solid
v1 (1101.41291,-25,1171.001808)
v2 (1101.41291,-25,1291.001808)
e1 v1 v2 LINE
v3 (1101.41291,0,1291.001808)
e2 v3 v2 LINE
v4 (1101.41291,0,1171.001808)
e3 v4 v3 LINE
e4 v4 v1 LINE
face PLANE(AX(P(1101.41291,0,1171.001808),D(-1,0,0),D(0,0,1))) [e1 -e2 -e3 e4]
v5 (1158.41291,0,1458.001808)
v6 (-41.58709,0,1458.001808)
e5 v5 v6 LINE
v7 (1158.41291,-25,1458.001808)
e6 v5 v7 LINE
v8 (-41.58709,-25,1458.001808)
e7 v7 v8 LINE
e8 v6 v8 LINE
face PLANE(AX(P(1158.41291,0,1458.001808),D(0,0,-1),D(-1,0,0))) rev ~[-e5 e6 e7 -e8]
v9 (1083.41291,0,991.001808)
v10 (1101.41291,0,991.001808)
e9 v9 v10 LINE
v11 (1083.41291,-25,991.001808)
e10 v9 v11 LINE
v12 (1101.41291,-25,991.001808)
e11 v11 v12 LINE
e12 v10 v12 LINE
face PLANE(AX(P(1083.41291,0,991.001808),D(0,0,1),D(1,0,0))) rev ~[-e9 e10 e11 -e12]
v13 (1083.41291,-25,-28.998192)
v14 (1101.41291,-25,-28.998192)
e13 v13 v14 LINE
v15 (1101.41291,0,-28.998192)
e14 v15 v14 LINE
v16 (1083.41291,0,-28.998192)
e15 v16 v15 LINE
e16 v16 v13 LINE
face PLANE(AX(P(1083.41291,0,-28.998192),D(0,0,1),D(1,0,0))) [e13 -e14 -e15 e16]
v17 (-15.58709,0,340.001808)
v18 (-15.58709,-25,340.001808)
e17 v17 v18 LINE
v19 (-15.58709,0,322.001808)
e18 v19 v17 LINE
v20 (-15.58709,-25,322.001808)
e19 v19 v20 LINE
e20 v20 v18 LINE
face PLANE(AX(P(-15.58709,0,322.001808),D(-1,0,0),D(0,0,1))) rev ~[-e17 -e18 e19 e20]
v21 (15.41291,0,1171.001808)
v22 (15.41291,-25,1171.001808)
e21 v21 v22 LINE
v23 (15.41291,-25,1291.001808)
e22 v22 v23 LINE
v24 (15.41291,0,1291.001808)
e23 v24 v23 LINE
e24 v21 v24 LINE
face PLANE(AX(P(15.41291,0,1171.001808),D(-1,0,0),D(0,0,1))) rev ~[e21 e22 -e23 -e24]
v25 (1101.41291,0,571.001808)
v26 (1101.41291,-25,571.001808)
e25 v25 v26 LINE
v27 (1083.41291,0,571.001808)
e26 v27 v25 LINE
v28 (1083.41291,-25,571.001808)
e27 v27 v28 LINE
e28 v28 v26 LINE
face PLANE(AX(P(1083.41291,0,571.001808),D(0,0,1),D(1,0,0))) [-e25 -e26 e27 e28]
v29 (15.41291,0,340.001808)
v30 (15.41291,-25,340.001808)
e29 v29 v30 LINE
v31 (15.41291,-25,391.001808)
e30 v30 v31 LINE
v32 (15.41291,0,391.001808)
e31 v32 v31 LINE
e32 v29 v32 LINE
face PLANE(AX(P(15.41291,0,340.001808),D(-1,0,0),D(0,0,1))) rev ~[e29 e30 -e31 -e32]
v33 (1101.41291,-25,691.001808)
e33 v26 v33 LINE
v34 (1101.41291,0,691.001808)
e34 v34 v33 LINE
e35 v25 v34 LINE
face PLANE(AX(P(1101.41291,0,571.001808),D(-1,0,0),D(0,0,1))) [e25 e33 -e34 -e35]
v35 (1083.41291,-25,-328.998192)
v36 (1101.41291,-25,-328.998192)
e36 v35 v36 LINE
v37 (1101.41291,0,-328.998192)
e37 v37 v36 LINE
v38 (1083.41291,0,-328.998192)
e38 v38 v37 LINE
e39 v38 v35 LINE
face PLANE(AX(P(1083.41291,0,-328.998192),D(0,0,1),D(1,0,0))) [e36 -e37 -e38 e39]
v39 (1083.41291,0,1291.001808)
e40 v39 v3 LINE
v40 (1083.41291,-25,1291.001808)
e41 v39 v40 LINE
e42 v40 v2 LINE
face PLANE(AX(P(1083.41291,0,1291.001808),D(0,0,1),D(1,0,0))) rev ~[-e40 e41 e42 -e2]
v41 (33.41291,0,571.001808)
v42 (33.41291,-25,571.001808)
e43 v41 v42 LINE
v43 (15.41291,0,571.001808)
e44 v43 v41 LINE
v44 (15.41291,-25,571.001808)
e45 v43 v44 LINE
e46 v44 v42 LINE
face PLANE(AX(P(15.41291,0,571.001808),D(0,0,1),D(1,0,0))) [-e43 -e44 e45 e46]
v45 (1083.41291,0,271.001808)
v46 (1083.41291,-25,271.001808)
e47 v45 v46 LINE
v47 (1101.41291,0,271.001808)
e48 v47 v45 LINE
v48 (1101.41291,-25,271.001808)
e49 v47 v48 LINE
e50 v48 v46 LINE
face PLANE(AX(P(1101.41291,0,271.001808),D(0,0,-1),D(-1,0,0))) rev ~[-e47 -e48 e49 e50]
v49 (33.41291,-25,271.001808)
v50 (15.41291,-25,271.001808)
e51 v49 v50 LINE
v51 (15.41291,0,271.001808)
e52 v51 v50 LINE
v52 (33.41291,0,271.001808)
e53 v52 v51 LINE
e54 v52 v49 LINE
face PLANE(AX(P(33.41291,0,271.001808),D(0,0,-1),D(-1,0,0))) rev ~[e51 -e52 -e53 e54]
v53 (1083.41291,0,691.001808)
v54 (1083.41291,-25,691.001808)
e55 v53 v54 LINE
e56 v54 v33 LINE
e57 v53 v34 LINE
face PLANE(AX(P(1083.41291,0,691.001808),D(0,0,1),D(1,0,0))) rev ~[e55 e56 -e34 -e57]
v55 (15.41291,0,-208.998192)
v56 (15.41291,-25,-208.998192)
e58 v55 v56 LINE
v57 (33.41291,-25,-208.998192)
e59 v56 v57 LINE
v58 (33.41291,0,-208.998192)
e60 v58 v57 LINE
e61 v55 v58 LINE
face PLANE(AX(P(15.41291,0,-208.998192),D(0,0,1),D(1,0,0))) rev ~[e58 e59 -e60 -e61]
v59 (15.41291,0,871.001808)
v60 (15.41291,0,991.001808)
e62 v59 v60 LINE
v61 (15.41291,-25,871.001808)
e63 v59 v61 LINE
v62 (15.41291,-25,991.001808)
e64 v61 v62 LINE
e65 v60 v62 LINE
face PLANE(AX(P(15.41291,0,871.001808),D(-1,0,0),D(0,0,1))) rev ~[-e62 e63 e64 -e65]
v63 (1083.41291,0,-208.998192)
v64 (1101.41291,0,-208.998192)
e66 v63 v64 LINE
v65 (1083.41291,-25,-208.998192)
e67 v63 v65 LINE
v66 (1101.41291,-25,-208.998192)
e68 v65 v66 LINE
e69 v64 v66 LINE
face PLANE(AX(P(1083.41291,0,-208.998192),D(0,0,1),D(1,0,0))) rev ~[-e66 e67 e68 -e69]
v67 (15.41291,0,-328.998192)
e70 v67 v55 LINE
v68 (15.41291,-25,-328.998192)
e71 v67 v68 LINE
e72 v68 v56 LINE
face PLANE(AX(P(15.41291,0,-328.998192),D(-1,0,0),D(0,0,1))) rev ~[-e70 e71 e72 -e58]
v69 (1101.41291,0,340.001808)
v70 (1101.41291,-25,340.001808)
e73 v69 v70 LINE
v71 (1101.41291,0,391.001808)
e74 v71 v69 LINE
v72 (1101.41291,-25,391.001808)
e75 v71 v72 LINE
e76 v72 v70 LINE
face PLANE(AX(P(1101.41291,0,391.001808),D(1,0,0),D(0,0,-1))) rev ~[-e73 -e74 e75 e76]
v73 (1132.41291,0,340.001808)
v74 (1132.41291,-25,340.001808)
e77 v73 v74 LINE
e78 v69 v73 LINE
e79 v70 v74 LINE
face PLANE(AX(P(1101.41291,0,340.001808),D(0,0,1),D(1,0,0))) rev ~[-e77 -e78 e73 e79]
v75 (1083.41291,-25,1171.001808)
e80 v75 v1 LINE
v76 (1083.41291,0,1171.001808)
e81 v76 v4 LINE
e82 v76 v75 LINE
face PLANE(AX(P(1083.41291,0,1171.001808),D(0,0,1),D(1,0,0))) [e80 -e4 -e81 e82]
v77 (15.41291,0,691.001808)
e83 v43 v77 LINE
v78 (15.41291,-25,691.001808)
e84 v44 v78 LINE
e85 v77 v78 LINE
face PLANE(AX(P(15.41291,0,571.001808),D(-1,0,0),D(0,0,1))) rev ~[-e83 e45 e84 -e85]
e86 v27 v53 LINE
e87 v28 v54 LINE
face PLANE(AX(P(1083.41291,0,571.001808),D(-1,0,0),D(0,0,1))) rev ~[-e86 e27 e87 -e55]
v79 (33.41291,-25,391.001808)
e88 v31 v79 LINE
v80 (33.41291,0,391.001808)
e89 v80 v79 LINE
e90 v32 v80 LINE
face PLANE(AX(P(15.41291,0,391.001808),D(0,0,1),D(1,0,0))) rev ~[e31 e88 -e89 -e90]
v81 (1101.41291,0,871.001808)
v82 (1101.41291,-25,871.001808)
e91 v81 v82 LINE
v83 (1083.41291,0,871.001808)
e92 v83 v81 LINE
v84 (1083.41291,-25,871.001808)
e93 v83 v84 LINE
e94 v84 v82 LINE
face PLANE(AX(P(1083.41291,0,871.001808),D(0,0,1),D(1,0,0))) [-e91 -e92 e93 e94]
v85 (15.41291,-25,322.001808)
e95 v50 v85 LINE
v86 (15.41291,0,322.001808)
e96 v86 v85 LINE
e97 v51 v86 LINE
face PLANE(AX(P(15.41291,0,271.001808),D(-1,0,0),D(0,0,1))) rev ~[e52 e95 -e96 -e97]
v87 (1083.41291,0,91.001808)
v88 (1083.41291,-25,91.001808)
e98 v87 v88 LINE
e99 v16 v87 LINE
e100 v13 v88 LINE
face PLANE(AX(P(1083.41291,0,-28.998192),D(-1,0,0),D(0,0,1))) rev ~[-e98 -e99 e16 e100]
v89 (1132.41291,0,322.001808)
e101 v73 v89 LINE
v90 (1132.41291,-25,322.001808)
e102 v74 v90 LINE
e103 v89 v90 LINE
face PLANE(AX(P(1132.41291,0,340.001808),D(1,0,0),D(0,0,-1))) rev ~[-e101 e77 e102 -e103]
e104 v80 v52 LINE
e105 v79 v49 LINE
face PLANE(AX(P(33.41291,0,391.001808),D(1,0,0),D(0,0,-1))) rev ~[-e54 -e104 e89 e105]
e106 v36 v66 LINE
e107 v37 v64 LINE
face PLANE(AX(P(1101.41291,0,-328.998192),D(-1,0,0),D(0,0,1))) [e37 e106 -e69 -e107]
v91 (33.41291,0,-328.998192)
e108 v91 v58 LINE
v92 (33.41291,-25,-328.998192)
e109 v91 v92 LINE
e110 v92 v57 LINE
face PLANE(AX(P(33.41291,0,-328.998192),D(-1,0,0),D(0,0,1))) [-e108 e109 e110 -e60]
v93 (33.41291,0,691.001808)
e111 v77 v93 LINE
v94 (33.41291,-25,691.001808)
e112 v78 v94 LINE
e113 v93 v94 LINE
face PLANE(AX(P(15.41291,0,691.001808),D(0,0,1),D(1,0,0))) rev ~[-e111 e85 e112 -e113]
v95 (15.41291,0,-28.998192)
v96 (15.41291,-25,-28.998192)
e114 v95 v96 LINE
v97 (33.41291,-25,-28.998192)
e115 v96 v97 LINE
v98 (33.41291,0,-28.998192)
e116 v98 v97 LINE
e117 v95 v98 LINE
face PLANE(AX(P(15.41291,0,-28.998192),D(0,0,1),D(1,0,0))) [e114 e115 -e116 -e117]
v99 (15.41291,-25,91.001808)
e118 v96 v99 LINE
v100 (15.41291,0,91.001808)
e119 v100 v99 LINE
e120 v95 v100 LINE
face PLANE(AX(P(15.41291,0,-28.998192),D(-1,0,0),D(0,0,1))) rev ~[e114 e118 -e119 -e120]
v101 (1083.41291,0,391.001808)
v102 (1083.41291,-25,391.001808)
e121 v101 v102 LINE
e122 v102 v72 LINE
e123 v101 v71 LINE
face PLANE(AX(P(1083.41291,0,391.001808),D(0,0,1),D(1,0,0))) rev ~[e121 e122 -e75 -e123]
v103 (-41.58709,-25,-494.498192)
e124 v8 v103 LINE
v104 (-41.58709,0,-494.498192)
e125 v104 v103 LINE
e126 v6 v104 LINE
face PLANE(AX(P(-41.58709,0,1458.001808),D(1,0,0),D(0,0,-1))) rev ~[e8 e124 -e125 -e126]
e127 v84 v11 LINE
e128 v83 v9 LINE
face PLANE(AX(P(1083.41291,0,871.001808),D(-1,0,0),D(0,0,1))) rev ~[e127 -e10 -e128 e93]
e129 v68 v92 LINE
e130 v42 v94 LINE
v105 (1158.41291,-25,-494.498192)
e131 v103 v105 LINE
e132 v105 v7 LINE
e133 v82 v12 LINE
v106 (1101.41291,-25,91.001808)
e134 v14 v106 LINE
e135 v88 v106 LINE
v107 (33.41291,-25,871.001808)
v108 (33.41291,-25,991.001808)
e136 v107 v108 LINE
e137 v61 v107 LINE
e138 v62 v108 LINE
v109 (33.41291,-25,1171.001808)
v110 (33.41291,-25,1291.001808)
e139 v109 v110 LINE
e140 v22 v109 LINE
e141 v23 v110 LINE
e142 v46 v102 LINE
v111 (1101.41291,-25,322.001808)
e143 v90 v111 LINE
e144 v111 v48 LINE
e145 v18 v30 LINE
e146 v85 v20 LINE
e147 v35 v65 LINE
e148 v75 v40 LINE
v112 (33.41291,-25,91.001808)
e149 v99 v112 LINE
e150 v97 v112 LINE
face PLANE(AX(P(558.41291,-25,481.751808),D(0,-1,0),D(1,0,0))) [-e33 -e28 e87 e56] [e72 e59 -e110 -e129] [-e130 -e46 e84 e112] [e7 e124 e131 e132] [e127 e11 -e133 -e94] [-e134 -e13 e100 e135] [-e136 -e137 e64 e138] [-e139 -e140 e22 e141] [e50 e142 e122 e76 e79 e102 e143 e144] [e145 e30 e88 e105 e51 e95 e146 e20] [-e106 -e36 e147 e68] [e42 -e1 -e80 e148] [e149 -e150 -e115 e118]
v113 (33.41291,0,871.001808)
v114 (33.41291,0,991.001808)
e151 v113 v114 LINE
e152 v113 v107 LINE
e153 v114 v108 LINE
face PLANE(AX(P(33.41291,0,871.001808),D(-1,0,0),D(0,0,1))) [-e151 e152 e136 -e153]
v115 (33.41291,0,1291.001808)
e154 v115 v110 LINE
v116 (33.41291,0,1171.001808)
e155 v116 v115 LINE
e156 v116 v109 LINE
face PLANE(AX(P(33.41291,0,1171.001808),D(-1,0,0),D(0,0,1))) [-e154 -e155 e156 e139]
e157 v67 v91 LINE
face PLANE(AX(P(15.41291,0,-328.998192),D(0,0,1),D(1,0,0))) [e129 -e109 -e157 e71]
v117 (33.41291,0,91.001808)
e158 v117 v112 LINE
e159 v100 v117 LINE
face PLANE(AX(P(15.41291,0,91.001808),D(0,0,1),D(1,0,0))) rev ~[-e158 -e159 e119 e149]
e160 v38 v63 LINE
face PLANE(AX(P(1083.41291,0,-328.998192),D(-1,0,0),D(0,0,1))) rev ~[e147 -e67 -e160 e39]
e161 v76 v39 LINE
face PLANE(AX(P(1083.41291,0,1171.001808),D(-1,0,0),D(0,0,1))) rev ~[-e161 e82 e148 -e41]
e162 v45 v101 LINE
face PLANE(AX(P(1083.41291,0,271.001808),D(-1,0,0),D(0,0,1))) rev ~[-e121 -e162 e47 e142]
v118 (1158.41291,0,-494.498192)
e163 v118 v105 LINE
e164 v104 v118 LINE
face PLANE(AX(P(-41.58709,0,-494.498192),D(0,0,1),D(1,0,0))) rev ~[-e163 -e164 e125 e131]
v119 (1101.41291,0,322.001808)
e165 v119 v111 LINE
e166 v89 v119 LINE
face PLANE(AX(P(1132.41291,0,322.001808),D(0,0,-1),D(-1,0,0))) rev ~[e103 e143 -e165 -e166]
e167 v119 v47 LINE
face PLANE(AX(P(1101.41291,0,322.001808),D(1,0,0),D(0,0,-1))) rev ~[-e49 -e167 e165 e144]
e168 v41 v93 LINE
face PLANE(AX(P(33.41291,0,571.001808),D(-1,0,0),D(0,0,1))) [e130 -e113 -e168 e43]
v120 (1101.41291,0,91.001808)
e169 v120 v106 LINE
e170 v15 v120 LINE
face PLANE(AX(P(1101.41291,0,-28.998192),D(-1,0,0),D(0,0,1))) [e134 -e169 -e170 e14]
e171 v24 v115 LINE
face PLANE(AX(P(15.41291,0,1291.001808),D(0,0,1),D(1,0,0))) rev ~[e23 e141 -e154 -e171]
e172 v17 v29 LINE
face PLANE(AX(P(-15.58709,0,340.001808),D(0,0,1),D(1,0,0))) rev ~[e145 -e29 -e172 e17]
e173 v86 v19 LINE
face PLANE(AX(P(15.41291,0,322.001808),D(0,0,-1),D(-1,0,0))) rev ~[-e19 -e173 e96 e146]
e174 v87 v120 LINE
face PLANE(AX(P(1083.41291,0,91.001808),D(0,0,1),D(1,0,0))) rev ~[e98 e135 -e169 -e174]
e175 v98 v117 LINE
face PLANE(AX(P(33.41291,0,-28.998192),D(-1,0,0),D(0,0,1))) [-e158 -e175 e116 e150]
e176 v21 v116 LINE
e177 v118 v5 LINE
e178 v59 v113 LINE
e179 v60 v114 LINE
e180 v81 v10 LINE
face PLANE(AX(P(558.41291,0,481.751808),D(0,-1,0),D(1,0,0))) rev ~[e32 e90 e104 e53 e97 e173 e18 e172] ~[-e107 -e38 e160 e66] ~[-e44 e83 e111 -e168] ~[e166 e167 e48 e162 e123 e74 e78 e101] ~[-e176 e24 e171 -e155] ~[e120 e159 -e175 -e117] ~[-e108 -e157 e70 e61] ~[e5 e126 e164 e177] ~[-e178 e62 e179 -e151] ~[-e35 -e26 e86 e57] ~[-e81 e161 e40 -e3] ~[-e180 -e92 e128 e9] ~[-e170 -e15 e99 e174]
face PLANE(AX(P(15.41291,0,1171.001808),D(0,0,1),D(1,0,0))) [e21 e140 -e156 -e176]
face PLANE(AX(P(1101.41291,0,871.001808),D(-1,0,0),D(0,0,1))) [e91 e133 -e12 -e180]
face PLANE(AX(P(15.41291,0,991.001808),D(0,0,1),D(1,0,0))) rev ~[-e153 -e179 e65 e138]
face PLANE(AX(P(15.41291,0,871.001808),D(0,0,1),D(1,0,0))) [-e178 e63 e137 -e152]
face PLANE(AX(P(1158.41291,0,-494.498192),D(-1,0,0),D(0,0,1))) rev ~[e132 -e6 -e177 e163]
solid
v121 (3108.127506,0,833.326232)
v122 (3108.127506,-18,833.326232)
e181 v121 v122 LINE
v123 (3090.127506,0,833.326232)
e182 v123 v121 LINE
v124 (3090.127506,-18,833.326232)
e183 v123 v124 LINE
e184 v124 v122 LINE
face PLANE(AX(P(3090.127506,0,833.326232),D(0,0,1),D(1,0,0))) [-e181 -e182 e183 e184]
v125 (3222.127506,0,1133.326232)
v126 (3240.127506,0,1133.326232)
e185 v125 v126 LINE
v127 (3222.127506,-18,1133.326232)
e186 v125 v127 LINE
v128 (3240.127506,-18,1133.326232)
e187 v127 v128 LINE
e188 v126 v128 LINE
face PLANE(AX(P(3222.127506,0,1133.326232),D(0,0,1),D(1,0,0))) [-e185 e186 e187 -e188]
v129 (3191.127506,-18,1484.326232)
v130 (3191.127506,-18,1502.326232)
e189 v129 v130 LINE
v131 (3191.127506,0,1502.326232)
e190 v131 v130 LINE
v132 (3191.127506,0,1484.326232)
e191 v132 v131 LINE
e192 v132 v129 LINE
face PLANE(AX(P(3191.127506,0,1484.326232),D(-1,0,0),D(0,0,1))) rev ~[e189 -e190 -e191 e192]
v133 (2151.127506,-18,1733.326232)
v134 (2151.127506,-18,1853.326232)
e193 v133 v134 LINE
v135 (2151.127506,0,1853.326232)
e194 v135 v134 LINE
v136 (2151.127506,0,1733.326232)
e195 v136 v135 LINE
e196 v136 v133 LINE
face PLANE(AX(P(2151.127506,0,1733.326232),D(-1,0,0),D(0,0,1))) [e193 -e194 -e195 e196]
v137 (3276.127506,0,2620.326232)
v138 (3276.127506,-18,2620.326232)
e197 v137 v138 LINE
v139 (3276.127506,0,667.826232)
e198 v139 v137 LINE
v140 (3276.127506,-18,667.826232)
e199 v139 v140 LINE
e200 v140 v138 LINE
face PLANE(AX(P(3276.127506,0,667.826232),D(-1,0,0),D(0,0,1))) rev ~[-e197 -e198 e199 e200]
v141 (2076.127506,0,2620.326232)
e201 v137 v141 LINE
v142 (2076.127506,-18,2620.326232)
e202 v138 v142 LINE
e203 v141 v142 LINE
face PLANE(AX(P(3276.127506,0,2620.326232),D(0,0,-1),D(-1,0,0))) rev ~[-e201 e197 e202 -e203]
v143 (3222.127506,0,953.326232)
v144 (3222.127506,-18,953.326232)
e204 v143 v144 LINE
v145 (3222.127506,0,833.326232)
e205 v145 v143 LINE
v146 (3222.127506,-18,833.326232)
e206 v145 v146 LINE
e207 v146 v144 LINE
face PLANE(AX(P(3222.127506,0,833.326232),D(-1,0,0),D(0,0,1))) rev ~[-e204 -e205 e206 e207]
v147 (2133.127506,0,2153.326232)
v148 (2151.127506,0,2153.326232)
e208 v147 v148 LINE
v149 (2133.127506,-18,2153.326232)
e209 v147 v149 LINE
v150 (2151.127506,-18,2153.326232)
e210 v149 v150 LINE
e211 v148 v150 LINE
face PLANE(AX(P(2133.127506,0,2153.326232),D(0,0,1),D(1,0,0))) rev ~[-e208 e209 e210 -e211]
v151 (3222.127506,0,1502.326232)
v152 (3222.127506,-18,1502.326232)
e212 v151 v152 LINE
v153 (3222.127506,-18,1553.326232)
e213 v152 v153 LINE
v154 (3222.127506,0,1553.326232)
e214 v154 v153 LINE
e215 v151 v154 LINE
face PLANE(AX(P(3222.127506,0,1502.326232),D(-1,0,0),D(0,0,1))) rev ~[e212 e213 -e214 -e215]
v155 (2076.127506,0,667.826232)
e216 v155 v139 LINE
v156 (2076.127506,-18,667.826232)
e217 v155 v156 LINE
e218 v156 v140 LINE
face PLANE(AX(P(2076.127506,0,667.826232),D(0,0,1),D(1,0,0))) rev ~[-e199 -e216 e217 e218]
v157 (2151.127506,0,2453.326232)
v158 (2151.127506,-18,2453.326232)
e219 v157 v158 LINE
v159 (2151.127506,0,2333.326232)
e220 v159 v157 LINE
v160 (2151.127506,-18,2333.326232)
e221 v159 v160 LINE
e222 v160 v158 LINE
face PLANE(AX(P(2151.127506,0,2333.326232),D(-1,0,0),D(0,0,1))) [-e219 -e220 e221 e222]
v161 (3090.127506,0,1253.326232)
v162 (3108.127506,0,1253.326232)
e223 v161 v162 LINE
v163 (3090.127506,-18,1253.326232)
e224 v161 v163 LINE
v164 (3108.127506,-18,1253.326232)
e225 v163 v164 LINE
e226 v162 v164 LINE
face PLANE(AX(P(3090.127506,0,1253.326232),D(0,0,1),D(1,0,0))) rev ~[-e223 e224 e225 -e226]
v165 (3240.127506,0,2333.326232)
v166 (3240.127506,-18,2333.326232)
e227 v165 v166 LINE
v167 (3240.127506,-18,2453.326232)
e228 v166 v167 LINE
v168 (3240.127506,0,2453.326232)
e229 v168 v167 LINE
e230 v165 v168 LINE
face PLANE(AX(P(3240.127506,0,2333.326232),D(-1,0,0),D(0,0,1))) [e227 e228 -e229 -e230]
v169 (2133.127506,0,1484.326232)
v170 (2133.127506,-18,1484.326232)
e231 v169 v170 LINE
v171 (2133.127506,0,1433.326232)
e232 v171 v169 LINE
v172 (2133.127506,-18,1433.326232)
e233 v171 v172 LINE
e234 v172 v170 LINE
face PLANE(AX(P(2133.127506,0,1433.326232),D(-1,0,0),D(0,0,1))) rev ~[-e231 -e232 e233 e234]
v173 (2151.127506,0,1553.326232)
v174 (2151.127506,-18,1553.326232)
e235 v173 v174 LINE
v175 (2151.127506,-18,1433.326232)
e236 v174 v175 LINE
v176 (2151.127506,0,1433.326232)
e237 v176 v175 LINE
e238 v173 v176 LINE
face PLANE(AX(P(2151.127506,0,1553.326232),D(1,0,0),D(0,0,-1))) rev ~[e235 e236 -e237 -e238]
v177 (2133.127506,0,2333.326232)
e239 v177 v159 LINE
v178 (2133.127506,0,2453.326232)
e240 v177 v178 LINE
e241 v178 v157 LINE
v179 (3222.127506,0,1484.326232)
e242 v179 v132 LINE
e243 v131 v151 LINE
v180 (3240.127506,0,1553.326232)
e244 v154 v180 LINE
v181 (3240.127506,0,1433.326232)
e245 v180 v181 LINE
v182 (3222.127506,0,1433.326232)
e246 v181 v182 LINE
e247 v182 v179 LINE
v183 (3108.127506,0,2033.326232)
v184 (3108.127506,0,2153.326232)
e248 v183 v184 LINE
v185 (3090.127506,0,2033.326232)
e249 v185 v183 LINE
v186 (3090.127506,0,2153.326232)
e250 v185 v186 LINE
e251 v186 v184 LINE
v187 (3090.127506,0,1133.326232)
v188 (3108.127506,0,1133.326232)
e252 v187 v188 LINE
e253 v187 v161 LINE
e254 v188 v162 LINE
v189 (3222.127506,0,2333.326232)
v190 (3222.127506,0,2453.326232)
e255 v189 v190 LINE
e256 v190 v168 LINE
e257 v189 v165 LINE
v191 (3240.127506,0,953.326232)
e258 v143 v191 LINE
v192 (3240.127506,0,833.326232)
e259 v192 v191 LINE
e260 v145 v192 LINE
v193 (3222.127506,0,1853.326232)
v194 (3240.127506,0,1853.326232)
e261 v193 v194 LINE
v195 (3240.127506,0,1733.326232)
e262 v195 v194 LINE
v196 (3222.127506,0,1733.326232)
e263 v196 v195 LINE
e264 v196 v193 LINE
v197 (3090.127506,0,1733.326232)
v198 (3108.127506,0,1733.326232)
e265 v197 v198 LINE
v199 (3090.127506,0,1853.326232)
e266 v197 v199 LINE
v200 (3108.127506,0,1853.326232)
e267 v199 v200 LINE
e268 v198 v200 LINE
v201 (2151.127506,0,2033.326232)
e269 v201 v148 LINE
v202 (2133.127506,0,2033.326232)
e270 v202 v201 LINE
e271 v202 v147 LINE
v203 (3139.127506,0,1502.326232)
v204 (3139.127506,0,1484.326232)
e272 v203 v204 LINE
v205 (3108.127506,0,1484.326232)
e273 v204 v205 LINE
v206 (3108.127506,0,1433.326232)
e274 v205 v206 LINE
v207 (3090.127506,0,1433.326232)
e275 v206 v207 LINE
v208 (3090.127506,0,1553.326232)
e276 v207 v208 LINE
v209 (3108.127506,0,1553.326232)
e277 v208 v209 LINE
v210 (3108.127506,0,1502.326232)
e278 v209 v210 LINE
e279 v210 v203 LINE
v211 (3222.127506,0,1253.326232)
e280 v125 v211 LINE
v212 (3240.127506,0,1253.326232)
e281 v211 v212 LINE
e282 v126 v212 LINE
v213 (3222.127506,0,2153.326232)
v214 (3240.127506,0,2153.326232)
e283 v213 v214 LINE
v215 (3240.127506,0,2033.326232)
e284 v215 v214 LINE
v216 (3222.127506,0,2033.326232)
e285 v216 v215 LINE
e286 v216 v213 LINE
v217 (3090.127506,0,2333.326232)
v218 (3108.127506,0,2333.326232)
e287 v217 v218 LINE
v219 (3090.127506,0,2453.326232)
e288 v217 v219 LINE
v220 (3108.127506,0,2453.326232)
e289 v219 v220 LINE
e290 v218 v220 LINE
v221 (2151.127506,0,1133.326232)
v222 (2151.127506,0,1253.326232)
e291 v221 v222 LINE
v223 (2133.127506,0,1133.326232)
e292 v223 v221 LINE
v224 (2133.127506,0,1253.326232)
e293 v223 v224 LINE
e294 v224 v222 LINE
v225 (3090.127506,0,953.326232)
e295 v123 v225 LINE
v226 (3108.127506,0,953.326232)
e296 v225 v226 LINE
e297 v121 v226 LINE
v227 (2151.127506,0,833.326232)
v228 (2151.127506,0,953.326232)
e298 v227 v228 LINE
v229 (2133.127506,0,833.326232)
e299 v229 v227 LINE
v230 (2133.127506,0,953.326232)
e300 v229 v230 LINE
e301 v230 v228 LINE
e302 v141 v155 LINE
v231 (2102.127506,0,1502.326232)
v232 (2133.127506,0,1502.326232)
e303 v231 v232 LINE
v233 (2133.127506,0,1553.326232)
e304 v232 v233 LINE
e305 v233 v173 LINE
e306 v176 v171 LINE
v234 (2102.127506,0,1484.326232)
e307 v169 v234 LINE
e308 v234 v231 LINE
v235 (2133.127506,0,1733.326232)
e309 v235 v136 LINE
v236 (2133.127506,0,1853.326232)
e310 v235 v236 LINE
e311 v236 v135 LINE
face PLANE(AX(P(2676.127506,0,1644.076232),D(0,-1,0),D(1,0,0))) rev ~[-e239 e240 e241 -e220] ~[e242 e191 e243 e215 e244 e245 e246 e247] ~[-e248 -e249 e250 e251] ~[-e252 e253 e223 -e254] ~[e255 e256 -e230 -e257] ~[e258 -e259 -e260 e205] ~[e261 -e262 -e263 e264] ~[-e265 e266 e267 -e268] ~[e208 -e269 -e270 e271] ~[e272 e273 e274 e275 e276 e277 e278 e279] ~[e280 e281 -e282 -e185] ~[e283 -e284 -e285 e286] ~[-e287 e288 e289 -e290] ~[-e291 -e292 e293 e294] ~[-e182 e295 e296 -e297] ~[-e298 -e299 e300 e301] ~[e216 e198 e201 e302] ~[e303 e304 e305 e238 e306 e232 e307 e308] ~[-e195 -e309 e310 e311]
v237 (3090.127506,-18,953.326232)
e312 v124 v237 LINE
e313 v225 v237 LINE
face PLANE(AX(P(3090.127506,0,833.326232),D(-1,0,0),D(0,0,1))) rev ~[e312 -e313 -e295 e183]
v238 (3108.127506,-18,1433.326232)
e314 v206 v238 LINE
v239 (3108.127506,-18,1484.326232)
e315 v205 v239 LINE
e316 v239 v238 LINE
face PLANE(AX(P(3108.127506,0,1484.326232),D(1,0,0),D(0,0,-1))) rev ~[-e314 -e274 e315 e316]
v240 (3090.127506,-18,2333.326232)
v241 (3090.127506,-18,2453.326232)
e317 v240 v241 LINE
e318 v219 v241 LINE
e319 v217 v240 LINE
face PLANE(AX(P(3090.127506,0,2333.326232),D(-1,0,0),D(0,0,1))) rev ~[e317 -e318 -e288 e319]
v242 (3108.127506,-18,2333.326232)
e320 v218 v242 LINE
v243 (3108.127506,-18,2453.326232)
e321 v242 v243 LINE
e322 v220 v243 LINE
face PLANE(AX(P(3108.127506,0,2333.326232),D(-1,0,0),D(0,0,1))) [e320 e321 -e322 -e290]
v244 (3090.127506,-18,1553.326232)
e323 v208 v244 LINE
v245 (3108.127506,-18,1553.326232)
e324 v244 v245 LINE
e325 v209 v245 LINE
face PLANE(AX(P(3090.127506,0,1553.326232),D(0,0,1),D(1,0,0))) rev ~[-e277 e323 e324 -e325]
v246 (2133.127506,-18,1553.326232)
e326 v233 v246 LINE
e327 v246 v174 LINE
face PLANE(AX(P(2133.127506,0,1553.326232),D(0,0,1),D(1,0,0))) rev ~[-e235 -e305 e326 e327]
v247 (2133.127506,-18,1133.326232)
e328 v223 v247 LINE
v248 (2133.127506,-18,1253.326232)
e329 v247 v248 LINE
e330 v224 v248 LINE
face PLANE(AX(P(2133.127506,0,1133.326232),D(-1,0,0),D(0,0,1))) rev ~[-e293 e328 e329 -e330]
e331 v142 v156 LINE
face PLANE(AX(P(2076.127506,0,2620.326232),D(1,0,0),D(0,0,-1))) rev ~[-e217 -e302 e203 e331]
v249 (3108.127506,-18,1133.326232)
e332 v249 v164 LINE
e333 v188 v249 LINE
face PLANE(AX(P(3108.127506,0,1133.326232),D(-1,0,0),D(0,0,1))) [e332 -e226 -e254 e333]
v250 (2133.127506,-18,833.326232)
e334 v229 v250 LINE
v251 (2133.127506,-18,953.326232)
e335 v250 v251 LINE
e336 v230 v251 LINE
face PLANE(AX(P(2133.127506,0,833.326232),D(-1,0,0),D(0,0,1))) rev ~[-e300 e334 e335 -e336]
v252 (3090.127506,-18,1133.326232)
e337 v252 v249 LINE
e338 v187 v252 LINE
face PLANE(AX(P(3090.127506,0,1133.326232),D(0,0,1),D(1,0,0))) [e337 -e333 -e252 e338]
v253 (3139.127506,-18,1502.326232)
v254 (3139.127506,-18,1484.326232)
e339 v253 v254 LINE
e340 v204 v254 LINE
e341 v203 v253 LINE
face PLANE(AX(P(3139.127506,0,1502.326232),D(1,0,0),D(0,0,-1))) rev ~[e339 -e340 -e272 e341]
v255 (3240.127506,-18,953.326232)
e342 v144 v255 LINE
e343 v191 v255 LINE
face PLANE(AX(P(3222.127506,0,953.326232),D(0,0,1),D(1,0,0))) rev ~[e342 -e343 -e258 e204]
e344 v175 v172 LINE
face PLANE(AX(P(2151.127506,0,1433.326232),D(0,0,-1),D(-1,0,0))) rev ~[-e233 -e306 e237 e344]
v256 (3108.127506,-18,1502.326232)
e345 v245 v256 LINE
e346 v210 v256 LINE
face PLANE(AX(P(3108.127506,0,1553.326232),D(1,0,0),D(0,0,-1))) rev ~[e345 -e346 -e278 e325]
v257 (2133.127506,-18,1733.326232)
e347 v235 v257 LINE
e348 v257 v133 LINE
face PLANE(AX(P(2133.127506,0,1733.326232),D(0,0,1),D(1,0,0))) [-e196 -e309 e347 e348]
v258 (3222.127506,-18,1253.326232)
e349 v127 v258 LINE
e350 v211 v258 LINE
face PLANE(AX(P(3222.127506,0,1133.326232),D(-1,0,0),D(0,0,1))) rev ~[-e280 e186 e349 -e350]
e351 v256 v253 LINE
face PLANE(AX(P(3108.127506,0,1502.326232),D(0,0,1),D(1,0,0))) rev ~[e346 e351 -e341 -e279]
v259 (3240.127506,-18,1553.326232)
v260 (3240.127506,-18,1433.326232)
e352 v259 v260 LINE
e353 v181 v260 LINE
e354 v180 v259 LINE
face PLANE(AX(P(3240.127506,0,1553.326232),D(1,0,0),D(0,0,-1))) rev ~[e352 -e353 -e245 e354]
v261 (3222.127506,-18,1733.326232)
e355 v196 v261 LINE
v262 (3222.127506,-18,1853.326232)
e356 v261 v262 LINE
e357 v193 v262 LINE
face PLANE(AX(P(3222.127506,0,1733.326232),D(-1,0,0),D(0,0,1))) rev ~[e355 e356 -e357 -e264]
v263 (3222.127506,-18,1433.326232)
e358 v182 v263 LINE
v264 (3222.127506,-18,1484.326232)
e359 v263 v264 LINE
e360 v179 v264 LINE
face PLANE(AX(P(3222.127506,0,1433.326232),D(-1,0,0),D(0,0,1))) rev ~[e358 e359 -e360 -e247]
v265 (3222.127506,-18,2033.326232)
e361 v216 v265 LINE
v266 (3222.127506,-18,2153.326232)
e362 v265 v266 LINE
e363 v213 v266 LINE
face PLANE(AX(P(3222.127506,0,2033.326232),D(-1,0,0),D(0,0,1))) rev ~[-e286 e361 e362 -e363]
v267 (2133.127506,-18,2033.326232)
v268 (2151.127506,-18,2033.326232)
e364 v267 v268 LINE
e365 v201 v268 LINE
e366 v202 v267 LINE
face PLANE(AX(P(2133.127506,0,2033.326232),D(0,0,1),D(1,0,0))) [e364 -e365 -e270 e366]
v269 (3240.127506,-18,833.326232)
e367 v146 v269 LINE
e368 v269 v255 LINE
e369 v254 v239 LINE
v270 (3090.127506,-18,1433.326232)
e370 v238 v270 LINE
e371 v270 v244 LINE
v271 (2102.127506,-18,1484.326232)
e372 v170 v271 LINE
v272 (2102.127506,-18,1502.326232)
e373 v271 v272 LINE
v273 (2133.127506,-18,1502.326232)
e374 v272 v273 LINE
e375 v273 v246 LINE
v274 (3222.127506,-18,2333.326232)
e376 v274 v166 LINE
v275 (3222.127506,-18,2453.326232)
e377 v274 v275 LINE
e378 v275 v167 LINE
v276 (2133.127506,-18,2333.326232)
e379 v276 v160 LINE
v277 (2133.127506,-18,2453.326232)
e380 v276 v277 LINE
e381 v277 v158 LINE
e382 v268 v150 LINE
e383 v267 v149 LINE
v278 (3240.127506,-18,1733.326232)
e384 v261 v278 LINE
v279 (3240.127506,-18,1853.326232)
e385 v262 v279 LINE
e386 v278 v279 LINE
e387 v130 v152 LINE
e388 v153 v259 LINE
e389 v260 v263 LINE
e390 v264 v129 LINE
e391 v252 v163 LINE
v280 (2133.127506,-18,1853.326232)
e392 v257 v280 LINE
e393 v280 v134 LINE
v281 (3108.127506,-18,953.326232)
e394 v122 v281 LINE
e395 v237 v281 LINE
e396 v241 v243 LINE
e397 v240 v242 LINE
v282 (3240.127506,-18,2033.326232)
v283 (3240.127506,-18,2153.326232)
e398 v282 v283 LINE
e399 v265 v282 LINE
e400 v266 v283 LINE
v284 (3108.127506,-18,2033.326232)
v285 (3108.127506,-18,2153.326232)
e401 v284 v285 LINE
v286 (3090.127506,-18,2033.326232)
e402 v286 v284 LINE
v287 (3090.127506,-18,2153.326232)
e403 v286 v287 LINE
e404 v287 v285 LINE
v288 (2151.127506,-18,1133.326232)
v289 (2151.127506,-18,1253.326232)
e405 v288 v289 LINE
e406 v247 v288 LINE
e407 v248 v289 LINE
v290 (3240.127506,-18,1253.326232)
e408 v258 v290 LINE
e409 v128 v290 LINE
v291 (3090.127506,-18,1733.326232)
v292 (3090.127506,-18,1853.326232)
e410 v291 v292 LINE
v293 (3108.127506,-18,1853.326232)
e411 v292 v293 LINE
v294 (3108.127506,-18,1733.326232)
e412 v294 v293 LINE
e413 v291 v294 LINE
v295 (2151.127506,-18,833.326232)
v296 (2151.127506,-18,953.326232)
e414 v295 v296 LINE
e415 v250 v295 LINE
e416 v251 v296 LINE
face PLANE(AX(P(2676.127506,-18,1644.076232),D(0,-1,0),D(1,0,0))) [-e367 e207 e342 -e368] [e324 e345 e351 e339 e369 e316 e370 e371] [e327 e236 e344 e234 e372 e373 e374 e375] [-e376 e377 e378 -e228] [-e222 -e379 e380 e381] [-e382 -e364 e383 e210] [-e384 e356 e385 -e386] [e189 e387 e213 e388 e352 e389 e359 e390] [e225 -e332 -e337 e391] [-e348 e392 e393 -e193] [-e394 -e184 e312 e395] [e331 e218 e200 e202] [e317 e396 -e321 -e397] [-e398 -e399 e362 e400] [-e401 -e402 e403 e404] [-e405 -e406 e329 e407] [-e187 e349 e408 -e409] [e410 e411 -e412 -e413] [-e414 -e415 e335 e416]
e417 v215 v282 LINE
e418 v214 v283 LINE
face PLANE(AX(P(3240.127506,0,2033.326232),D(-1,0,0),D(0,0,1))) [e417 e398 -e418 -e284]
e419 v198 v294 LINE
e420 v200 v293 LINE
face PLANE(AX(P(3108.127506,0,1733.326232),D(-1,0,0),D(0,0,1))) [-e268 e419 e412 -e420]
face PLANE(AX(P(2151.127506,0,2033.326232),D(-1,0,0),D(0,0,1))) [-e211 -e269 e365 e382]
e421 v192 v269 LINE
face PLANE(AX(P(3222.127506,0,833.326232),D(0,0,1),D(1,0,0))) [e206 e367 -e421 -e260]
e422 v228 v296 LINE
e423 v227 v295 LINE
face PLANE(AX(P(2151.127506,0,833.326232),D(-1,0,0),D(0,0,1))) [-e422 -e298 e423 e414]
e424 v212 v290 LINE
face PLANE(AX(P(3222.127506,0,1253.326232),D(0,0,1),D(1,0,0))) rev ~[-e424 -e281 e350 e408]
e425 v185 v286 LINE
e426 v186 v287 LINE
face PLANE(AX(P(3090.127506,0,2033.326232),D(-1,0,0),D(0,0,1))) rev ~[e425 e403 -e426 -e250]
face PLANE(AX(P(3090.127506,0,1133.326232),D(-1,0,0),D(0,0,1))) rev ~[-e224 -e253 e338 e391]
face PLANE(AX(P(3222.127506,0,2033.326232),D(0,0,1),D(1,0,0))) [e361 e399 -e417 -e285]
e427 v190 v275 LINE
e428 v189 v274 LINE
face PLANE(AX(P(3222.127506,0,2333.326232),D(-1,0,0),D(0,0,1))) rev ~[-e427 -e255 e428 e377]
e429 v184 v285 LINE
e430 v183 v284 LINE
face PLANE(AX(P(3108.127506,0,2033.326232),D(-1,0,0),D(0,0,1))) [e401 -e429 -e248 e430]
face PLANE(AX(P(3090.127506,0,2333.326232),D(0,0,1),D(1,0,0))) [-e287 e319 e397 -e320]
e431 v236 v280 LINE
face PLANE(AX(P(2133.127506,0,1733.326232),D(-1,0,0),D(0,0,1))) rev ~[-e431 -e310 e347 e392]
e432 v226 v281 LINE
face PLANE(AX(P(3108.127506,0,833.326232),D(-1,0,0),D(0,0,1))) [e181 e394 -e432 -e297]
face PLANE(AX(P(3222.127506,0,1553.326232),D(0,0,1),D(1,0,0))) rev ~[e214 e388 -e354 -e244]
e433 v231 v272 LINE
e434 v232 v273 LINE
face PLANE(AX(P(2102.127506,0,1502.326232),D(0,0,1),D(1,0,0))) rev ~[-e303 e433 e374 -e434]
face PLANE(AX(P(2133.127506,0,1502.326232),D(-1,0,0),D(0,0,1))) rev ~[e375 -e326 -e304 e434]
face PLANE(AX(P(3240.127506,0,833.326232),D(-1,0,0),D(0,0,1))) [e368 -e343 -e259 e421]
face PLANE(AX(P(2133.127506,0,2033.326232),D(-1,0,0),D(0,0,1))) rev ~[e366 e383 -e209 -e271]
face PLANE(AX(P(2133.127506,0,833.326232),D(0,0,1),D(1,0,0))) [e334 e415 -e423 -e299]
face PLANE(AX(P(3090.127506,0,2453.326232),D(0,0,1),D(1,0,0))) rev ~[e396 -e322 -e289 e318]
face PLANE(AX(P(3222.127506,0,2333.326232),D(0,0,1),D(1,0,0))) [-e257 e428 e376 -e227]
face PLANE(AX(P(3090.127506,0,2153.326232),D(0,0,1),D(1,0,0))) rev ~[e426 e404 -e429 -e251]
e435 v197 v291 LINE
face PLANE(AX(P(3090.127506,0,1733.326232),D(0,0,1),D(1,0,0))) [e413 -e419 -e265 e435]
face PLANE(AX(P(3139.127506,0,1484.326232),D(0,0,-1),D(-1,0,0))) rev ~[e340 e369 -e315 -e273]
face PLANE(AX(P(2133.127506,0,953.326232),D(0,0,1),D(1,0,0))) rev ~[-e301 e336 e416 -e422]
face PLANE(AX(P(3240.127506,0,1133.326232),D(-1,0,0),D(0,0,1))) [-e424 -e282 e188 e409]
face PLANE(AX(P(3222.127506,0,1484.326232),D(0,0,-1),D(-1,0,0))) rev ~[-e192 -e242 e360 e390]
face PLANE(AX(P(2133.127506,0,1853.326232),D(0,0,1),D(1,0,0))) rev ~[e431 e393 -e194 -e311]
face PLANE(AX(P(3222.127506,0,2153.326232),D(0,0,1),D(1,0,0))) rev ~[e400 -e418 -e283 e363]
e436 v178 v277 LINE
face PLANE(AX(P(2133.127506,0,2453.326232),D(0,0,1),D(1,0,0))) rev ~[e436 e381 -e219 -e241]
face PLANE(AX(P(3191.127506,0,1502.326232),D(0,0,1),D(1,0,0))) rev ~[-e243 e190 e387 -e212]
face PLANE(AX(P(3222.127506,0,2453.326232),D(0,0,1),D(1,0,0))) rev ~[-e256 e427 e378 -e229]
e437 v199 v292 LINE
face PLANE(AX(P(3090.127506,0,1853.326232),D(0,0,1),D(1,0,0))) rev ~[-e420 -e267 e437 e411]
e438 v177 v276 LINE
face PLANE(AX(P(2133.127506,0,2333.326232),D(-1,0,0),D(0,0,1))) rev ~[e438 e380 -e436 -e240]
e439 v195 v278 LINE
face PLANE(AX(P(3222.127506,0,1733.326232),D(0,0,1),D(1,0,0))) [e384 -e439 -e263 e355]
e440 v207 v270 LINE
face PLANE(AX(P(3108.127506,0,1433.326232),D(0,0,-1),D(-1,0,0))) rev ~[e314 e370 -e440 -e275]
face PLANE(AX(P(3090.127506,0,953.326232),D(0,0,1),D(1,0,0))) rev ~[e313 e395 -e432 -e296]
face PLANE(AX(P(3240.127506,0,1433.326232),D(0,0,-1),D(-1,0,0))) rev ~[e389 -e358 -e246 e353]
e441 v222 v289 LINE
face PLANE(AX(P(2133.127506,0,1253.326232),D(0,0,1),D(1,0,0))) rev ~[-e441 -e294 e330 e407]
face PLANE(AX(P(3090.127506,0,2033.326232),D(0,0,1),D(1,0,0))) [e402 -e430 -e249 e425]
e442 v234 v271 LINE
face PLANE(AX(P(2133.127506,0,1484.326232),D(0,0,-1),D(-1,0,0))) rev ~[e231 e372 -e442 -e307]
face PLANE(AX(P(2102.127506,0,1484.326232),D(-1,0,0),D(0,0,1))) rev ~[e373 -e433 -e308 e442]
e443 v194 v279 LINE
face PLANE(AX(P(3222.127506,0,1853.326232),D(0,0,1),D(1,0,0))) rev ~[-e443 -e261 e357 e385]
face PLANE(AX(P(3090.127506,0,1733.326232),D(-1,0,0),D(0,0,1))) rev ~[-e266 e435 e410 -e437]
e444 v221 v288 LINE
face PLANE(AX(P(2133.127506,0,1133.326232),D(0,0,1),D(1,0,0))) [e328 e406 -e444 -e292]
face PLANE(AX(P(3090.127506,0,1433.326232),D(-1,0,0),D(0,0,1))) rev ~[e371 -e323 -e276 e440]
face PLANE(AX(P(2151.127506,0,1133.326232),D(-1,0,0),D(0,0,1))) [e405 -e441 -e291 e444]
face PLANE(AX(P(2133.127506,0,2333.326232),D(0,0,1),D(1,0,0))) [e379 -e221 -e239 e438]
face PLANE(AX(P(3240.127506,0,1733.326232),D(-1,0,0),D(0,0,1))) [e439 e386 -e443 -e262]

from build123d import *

# Parameters (mm, degrees)
F0_W     = 18
F0_H     = 120
F1_DEPTH = 25
F2_W     = 18
F2_H     = 120
F3_DEPTH = 18


with BuildPart() as f1:
    # F0 (on Front) → F1 (new body)
    with BuildSketch(Plane.XZ):
        Polygon((1083.41291, 1458.001808), (33.41291, 1458.001808), (15.41291, 1458.001808), (-41.58709, 1458.001808), (-41.58709, -494.498192), (15.41291, -494.498192), (33.41291, -494.498192), (558.41291, -494.498192), (1083.41291, -494.498192), (1101.41291, -494.498192), (1158.41291, -494.498192), (1158.41291, 1458.001808), (1101.41291, 1458.001808), align=None)
        with Locations((24.41291, -268.998192)):
            Rectangle(F0_W, F0_H, mode=Mode.SUBTRACT)
        with Locations((24.41291, 31.001808)):
            Rectangle(F0_W, F0_H, mode=Mode.SUBTRACT)
        Polygon((-15.58709, 322.001808), (-15.58709, 340.001808), (15.41291, 340.001808), (15.41291, 391.001808), (33.41291, 391.001808), (33.41291, 331.001808), (33.41291, 271.001808), (15.41291, 271.001808), (15.41291, 322.001808), align=None, mode=Mode.SUBTRACT)
        with Locations((1092.41291, -268.998192)):
            Rectangle(F0_W, F0_H, mode=Mode.SUBTRACT)
        with Locations((1092.41291, 31.001808)):
            Rectangle(F0_W, F0_H, mode=Mode.SUBTRACT)
        Polygon((1083.41291, 271.001808), (1083.41291, 331.001808), (1083.41291, 391.001808), (1101.41291, 391.001808), (1101.41291, 340.001808), (1132.41291, 340.001808), (1132.41291, 322.001808), (1101.41291, 322.001808), (1101.41291, 271.001808), align=None, mode=Mode.SUBTRACT)
        with Locations((24.41291, 631.001808)):
            Rectangle(F0_W, F0_H, mode=Mode.SUBTRACT)
        with Locations((24.41291, 931.001808)):
            Rectangle(F0_W, F0_H, mode=Mode.SUBTRACT)
        with Locations((24.41291, 1231.001808)):
            Rectangle(F0_W, F0_H, mode=Mode.SUBTRACT)
        with Locations((1092.41291, 631.001808)):
            Rectangle(F0_W, F0_H, mode=Mode.SUBTRACT)
        with Locations((1092.41291, 931.001808)):
            Rectangle(F0_W, F0_H, mode=Mode.SUBTRACT)
        with Locations((1092.41291, 1231.001808)):
            Rectangle(F0_W, F0_H, mode=Mode.SUBTRACT)
    extrude(amount=F1_DEPTH)


with BuildPart() as f3:
    # F2 (on Front) → F3 (new body)
    with BuildSketch(Plane.XZ):
        Polygon((2076.127506, 667.826232), (2133.127506, 667.826232), (2151.127506, 667.826232), (3090.127506, 667.826232), (3108.127506, 667.826232), (3222.127506, 667.826232), (3240.127506, 667.826232), (3276.127506, 667.826232), (3276.127506, 2620.326232), (3240.127506, 2620.326232), (3222.127506, 2620.326232), (3108.127506, 2620.326232), (3090.127506, 2620.326232), (2151.127506, 2620.326232), (2133.127506, 2620.326232), (2076.127506, 2620.326232), align=None)
        with Locations((2142.127506, 893.326232)):
            Rectangle(F2_W, F2_H, mode=Mode.SUBTRACT)
        with Locations((2142.127506, 1193.326232)):
            Rectangle(F2_W, F2_H, mode=Mode.SUBTRACT)
        Polygon((2102.127506, 1484.326232), (2102.127506, 1502.326232), (2133.127506, 1502.326232), (2133.127506, 1553.326232), (2151.127506, 1553.326232), (2151.127506, 1433.326232), (2133.127506, 1433.326232), (2133.127506, 1484.326232), align=None, mode=Mode.SUBTRACT)
        with Locations((3099.127506, 893.326232)):
            Rectangle(F2_W, F2_H, mode=Mode.SUBTRACT)
        with Locations((3231.127506, 893.326232)):
            Rectangle(F2_W, F2_H, mode=Mode.SUBTRACT)
        with Locations((3099.127506, 1193.326232)):
            Rectangle(F2_W, F2_H, mode=Mode.SUBTRACT)
        with Locations((3231.127506, 1193.326232)):
            Rectangle(F2_W, F2_H, mode=Mode.SUBTRACT)
        Polygon((3108.127506, 1484.326232), (3108.127506, 1433.326232), (3090.127506, 1433.326232), (3090.127506, 1553.326232), (3108.127506, 1553.326232), (3108.127506, 1502.326232), (3139.127506, 1502.326232), (3139.127506, 1484.326232), align=None, mode=Mode.SUBTRACT)
        Polygon((3240.127506, 1433.326232), (3222.127506, 1433.326232), (3222.127506, 1484.326232), (3191.127506, 1484.326232), (3191.127506, 1502.326232), (3222.127506, 1502.326232), (3222.127506, 1553.326232), (3240.127506, 1553.326232), align=None, mode=Mode.SUBTRACT)
        with Locations((2142.127506, 1793.326232)):
            Rectangle(F2_W, F2_H, mode=Mode.SUBTRACT)
        with Locations((2142.127506, 2093.326232)):
            Rectangle(F2_W, F2_H, mode=Mode.SUBTRACT)
        with Locations((2142.127506, 2393.326232)):
            Rectangle(F2_W, F2_H, mode=Mode.SUBTRACT)
        with Locations((3099.127506, 1793.326232)):
            Rectangle(F2_W, F2_H, mode=Mode.SUBTRACT)
        with Locations((3231.127506, 1793.326232)):
            Rectangle(F2_W, F2_H, mode=Mode.SUBTRACT)
        with Locations((3099.127506, 2093.326232)):
            Rectangle(F2_W, F2_H, mode=Mode.SUBTRACT)
        with Locations((3231.127506, 2093.326232)):
            Rectangle(F2_W, F2_H, mode=Mode.SUBTRACT)
        with Locations((3099.127506, 2393.326232)):
            Rectangle(F2_W, F2_H, mode=Mode.SUBTRACT)
        with Locations((3231.127506, 2393.326232)):
            Rectangle(F2_W, F2_H, mode=Mode.SUBTRACT)
    extrude(amount=F3_DEPTH)


solid = Compound([f1.part, f3.part])
